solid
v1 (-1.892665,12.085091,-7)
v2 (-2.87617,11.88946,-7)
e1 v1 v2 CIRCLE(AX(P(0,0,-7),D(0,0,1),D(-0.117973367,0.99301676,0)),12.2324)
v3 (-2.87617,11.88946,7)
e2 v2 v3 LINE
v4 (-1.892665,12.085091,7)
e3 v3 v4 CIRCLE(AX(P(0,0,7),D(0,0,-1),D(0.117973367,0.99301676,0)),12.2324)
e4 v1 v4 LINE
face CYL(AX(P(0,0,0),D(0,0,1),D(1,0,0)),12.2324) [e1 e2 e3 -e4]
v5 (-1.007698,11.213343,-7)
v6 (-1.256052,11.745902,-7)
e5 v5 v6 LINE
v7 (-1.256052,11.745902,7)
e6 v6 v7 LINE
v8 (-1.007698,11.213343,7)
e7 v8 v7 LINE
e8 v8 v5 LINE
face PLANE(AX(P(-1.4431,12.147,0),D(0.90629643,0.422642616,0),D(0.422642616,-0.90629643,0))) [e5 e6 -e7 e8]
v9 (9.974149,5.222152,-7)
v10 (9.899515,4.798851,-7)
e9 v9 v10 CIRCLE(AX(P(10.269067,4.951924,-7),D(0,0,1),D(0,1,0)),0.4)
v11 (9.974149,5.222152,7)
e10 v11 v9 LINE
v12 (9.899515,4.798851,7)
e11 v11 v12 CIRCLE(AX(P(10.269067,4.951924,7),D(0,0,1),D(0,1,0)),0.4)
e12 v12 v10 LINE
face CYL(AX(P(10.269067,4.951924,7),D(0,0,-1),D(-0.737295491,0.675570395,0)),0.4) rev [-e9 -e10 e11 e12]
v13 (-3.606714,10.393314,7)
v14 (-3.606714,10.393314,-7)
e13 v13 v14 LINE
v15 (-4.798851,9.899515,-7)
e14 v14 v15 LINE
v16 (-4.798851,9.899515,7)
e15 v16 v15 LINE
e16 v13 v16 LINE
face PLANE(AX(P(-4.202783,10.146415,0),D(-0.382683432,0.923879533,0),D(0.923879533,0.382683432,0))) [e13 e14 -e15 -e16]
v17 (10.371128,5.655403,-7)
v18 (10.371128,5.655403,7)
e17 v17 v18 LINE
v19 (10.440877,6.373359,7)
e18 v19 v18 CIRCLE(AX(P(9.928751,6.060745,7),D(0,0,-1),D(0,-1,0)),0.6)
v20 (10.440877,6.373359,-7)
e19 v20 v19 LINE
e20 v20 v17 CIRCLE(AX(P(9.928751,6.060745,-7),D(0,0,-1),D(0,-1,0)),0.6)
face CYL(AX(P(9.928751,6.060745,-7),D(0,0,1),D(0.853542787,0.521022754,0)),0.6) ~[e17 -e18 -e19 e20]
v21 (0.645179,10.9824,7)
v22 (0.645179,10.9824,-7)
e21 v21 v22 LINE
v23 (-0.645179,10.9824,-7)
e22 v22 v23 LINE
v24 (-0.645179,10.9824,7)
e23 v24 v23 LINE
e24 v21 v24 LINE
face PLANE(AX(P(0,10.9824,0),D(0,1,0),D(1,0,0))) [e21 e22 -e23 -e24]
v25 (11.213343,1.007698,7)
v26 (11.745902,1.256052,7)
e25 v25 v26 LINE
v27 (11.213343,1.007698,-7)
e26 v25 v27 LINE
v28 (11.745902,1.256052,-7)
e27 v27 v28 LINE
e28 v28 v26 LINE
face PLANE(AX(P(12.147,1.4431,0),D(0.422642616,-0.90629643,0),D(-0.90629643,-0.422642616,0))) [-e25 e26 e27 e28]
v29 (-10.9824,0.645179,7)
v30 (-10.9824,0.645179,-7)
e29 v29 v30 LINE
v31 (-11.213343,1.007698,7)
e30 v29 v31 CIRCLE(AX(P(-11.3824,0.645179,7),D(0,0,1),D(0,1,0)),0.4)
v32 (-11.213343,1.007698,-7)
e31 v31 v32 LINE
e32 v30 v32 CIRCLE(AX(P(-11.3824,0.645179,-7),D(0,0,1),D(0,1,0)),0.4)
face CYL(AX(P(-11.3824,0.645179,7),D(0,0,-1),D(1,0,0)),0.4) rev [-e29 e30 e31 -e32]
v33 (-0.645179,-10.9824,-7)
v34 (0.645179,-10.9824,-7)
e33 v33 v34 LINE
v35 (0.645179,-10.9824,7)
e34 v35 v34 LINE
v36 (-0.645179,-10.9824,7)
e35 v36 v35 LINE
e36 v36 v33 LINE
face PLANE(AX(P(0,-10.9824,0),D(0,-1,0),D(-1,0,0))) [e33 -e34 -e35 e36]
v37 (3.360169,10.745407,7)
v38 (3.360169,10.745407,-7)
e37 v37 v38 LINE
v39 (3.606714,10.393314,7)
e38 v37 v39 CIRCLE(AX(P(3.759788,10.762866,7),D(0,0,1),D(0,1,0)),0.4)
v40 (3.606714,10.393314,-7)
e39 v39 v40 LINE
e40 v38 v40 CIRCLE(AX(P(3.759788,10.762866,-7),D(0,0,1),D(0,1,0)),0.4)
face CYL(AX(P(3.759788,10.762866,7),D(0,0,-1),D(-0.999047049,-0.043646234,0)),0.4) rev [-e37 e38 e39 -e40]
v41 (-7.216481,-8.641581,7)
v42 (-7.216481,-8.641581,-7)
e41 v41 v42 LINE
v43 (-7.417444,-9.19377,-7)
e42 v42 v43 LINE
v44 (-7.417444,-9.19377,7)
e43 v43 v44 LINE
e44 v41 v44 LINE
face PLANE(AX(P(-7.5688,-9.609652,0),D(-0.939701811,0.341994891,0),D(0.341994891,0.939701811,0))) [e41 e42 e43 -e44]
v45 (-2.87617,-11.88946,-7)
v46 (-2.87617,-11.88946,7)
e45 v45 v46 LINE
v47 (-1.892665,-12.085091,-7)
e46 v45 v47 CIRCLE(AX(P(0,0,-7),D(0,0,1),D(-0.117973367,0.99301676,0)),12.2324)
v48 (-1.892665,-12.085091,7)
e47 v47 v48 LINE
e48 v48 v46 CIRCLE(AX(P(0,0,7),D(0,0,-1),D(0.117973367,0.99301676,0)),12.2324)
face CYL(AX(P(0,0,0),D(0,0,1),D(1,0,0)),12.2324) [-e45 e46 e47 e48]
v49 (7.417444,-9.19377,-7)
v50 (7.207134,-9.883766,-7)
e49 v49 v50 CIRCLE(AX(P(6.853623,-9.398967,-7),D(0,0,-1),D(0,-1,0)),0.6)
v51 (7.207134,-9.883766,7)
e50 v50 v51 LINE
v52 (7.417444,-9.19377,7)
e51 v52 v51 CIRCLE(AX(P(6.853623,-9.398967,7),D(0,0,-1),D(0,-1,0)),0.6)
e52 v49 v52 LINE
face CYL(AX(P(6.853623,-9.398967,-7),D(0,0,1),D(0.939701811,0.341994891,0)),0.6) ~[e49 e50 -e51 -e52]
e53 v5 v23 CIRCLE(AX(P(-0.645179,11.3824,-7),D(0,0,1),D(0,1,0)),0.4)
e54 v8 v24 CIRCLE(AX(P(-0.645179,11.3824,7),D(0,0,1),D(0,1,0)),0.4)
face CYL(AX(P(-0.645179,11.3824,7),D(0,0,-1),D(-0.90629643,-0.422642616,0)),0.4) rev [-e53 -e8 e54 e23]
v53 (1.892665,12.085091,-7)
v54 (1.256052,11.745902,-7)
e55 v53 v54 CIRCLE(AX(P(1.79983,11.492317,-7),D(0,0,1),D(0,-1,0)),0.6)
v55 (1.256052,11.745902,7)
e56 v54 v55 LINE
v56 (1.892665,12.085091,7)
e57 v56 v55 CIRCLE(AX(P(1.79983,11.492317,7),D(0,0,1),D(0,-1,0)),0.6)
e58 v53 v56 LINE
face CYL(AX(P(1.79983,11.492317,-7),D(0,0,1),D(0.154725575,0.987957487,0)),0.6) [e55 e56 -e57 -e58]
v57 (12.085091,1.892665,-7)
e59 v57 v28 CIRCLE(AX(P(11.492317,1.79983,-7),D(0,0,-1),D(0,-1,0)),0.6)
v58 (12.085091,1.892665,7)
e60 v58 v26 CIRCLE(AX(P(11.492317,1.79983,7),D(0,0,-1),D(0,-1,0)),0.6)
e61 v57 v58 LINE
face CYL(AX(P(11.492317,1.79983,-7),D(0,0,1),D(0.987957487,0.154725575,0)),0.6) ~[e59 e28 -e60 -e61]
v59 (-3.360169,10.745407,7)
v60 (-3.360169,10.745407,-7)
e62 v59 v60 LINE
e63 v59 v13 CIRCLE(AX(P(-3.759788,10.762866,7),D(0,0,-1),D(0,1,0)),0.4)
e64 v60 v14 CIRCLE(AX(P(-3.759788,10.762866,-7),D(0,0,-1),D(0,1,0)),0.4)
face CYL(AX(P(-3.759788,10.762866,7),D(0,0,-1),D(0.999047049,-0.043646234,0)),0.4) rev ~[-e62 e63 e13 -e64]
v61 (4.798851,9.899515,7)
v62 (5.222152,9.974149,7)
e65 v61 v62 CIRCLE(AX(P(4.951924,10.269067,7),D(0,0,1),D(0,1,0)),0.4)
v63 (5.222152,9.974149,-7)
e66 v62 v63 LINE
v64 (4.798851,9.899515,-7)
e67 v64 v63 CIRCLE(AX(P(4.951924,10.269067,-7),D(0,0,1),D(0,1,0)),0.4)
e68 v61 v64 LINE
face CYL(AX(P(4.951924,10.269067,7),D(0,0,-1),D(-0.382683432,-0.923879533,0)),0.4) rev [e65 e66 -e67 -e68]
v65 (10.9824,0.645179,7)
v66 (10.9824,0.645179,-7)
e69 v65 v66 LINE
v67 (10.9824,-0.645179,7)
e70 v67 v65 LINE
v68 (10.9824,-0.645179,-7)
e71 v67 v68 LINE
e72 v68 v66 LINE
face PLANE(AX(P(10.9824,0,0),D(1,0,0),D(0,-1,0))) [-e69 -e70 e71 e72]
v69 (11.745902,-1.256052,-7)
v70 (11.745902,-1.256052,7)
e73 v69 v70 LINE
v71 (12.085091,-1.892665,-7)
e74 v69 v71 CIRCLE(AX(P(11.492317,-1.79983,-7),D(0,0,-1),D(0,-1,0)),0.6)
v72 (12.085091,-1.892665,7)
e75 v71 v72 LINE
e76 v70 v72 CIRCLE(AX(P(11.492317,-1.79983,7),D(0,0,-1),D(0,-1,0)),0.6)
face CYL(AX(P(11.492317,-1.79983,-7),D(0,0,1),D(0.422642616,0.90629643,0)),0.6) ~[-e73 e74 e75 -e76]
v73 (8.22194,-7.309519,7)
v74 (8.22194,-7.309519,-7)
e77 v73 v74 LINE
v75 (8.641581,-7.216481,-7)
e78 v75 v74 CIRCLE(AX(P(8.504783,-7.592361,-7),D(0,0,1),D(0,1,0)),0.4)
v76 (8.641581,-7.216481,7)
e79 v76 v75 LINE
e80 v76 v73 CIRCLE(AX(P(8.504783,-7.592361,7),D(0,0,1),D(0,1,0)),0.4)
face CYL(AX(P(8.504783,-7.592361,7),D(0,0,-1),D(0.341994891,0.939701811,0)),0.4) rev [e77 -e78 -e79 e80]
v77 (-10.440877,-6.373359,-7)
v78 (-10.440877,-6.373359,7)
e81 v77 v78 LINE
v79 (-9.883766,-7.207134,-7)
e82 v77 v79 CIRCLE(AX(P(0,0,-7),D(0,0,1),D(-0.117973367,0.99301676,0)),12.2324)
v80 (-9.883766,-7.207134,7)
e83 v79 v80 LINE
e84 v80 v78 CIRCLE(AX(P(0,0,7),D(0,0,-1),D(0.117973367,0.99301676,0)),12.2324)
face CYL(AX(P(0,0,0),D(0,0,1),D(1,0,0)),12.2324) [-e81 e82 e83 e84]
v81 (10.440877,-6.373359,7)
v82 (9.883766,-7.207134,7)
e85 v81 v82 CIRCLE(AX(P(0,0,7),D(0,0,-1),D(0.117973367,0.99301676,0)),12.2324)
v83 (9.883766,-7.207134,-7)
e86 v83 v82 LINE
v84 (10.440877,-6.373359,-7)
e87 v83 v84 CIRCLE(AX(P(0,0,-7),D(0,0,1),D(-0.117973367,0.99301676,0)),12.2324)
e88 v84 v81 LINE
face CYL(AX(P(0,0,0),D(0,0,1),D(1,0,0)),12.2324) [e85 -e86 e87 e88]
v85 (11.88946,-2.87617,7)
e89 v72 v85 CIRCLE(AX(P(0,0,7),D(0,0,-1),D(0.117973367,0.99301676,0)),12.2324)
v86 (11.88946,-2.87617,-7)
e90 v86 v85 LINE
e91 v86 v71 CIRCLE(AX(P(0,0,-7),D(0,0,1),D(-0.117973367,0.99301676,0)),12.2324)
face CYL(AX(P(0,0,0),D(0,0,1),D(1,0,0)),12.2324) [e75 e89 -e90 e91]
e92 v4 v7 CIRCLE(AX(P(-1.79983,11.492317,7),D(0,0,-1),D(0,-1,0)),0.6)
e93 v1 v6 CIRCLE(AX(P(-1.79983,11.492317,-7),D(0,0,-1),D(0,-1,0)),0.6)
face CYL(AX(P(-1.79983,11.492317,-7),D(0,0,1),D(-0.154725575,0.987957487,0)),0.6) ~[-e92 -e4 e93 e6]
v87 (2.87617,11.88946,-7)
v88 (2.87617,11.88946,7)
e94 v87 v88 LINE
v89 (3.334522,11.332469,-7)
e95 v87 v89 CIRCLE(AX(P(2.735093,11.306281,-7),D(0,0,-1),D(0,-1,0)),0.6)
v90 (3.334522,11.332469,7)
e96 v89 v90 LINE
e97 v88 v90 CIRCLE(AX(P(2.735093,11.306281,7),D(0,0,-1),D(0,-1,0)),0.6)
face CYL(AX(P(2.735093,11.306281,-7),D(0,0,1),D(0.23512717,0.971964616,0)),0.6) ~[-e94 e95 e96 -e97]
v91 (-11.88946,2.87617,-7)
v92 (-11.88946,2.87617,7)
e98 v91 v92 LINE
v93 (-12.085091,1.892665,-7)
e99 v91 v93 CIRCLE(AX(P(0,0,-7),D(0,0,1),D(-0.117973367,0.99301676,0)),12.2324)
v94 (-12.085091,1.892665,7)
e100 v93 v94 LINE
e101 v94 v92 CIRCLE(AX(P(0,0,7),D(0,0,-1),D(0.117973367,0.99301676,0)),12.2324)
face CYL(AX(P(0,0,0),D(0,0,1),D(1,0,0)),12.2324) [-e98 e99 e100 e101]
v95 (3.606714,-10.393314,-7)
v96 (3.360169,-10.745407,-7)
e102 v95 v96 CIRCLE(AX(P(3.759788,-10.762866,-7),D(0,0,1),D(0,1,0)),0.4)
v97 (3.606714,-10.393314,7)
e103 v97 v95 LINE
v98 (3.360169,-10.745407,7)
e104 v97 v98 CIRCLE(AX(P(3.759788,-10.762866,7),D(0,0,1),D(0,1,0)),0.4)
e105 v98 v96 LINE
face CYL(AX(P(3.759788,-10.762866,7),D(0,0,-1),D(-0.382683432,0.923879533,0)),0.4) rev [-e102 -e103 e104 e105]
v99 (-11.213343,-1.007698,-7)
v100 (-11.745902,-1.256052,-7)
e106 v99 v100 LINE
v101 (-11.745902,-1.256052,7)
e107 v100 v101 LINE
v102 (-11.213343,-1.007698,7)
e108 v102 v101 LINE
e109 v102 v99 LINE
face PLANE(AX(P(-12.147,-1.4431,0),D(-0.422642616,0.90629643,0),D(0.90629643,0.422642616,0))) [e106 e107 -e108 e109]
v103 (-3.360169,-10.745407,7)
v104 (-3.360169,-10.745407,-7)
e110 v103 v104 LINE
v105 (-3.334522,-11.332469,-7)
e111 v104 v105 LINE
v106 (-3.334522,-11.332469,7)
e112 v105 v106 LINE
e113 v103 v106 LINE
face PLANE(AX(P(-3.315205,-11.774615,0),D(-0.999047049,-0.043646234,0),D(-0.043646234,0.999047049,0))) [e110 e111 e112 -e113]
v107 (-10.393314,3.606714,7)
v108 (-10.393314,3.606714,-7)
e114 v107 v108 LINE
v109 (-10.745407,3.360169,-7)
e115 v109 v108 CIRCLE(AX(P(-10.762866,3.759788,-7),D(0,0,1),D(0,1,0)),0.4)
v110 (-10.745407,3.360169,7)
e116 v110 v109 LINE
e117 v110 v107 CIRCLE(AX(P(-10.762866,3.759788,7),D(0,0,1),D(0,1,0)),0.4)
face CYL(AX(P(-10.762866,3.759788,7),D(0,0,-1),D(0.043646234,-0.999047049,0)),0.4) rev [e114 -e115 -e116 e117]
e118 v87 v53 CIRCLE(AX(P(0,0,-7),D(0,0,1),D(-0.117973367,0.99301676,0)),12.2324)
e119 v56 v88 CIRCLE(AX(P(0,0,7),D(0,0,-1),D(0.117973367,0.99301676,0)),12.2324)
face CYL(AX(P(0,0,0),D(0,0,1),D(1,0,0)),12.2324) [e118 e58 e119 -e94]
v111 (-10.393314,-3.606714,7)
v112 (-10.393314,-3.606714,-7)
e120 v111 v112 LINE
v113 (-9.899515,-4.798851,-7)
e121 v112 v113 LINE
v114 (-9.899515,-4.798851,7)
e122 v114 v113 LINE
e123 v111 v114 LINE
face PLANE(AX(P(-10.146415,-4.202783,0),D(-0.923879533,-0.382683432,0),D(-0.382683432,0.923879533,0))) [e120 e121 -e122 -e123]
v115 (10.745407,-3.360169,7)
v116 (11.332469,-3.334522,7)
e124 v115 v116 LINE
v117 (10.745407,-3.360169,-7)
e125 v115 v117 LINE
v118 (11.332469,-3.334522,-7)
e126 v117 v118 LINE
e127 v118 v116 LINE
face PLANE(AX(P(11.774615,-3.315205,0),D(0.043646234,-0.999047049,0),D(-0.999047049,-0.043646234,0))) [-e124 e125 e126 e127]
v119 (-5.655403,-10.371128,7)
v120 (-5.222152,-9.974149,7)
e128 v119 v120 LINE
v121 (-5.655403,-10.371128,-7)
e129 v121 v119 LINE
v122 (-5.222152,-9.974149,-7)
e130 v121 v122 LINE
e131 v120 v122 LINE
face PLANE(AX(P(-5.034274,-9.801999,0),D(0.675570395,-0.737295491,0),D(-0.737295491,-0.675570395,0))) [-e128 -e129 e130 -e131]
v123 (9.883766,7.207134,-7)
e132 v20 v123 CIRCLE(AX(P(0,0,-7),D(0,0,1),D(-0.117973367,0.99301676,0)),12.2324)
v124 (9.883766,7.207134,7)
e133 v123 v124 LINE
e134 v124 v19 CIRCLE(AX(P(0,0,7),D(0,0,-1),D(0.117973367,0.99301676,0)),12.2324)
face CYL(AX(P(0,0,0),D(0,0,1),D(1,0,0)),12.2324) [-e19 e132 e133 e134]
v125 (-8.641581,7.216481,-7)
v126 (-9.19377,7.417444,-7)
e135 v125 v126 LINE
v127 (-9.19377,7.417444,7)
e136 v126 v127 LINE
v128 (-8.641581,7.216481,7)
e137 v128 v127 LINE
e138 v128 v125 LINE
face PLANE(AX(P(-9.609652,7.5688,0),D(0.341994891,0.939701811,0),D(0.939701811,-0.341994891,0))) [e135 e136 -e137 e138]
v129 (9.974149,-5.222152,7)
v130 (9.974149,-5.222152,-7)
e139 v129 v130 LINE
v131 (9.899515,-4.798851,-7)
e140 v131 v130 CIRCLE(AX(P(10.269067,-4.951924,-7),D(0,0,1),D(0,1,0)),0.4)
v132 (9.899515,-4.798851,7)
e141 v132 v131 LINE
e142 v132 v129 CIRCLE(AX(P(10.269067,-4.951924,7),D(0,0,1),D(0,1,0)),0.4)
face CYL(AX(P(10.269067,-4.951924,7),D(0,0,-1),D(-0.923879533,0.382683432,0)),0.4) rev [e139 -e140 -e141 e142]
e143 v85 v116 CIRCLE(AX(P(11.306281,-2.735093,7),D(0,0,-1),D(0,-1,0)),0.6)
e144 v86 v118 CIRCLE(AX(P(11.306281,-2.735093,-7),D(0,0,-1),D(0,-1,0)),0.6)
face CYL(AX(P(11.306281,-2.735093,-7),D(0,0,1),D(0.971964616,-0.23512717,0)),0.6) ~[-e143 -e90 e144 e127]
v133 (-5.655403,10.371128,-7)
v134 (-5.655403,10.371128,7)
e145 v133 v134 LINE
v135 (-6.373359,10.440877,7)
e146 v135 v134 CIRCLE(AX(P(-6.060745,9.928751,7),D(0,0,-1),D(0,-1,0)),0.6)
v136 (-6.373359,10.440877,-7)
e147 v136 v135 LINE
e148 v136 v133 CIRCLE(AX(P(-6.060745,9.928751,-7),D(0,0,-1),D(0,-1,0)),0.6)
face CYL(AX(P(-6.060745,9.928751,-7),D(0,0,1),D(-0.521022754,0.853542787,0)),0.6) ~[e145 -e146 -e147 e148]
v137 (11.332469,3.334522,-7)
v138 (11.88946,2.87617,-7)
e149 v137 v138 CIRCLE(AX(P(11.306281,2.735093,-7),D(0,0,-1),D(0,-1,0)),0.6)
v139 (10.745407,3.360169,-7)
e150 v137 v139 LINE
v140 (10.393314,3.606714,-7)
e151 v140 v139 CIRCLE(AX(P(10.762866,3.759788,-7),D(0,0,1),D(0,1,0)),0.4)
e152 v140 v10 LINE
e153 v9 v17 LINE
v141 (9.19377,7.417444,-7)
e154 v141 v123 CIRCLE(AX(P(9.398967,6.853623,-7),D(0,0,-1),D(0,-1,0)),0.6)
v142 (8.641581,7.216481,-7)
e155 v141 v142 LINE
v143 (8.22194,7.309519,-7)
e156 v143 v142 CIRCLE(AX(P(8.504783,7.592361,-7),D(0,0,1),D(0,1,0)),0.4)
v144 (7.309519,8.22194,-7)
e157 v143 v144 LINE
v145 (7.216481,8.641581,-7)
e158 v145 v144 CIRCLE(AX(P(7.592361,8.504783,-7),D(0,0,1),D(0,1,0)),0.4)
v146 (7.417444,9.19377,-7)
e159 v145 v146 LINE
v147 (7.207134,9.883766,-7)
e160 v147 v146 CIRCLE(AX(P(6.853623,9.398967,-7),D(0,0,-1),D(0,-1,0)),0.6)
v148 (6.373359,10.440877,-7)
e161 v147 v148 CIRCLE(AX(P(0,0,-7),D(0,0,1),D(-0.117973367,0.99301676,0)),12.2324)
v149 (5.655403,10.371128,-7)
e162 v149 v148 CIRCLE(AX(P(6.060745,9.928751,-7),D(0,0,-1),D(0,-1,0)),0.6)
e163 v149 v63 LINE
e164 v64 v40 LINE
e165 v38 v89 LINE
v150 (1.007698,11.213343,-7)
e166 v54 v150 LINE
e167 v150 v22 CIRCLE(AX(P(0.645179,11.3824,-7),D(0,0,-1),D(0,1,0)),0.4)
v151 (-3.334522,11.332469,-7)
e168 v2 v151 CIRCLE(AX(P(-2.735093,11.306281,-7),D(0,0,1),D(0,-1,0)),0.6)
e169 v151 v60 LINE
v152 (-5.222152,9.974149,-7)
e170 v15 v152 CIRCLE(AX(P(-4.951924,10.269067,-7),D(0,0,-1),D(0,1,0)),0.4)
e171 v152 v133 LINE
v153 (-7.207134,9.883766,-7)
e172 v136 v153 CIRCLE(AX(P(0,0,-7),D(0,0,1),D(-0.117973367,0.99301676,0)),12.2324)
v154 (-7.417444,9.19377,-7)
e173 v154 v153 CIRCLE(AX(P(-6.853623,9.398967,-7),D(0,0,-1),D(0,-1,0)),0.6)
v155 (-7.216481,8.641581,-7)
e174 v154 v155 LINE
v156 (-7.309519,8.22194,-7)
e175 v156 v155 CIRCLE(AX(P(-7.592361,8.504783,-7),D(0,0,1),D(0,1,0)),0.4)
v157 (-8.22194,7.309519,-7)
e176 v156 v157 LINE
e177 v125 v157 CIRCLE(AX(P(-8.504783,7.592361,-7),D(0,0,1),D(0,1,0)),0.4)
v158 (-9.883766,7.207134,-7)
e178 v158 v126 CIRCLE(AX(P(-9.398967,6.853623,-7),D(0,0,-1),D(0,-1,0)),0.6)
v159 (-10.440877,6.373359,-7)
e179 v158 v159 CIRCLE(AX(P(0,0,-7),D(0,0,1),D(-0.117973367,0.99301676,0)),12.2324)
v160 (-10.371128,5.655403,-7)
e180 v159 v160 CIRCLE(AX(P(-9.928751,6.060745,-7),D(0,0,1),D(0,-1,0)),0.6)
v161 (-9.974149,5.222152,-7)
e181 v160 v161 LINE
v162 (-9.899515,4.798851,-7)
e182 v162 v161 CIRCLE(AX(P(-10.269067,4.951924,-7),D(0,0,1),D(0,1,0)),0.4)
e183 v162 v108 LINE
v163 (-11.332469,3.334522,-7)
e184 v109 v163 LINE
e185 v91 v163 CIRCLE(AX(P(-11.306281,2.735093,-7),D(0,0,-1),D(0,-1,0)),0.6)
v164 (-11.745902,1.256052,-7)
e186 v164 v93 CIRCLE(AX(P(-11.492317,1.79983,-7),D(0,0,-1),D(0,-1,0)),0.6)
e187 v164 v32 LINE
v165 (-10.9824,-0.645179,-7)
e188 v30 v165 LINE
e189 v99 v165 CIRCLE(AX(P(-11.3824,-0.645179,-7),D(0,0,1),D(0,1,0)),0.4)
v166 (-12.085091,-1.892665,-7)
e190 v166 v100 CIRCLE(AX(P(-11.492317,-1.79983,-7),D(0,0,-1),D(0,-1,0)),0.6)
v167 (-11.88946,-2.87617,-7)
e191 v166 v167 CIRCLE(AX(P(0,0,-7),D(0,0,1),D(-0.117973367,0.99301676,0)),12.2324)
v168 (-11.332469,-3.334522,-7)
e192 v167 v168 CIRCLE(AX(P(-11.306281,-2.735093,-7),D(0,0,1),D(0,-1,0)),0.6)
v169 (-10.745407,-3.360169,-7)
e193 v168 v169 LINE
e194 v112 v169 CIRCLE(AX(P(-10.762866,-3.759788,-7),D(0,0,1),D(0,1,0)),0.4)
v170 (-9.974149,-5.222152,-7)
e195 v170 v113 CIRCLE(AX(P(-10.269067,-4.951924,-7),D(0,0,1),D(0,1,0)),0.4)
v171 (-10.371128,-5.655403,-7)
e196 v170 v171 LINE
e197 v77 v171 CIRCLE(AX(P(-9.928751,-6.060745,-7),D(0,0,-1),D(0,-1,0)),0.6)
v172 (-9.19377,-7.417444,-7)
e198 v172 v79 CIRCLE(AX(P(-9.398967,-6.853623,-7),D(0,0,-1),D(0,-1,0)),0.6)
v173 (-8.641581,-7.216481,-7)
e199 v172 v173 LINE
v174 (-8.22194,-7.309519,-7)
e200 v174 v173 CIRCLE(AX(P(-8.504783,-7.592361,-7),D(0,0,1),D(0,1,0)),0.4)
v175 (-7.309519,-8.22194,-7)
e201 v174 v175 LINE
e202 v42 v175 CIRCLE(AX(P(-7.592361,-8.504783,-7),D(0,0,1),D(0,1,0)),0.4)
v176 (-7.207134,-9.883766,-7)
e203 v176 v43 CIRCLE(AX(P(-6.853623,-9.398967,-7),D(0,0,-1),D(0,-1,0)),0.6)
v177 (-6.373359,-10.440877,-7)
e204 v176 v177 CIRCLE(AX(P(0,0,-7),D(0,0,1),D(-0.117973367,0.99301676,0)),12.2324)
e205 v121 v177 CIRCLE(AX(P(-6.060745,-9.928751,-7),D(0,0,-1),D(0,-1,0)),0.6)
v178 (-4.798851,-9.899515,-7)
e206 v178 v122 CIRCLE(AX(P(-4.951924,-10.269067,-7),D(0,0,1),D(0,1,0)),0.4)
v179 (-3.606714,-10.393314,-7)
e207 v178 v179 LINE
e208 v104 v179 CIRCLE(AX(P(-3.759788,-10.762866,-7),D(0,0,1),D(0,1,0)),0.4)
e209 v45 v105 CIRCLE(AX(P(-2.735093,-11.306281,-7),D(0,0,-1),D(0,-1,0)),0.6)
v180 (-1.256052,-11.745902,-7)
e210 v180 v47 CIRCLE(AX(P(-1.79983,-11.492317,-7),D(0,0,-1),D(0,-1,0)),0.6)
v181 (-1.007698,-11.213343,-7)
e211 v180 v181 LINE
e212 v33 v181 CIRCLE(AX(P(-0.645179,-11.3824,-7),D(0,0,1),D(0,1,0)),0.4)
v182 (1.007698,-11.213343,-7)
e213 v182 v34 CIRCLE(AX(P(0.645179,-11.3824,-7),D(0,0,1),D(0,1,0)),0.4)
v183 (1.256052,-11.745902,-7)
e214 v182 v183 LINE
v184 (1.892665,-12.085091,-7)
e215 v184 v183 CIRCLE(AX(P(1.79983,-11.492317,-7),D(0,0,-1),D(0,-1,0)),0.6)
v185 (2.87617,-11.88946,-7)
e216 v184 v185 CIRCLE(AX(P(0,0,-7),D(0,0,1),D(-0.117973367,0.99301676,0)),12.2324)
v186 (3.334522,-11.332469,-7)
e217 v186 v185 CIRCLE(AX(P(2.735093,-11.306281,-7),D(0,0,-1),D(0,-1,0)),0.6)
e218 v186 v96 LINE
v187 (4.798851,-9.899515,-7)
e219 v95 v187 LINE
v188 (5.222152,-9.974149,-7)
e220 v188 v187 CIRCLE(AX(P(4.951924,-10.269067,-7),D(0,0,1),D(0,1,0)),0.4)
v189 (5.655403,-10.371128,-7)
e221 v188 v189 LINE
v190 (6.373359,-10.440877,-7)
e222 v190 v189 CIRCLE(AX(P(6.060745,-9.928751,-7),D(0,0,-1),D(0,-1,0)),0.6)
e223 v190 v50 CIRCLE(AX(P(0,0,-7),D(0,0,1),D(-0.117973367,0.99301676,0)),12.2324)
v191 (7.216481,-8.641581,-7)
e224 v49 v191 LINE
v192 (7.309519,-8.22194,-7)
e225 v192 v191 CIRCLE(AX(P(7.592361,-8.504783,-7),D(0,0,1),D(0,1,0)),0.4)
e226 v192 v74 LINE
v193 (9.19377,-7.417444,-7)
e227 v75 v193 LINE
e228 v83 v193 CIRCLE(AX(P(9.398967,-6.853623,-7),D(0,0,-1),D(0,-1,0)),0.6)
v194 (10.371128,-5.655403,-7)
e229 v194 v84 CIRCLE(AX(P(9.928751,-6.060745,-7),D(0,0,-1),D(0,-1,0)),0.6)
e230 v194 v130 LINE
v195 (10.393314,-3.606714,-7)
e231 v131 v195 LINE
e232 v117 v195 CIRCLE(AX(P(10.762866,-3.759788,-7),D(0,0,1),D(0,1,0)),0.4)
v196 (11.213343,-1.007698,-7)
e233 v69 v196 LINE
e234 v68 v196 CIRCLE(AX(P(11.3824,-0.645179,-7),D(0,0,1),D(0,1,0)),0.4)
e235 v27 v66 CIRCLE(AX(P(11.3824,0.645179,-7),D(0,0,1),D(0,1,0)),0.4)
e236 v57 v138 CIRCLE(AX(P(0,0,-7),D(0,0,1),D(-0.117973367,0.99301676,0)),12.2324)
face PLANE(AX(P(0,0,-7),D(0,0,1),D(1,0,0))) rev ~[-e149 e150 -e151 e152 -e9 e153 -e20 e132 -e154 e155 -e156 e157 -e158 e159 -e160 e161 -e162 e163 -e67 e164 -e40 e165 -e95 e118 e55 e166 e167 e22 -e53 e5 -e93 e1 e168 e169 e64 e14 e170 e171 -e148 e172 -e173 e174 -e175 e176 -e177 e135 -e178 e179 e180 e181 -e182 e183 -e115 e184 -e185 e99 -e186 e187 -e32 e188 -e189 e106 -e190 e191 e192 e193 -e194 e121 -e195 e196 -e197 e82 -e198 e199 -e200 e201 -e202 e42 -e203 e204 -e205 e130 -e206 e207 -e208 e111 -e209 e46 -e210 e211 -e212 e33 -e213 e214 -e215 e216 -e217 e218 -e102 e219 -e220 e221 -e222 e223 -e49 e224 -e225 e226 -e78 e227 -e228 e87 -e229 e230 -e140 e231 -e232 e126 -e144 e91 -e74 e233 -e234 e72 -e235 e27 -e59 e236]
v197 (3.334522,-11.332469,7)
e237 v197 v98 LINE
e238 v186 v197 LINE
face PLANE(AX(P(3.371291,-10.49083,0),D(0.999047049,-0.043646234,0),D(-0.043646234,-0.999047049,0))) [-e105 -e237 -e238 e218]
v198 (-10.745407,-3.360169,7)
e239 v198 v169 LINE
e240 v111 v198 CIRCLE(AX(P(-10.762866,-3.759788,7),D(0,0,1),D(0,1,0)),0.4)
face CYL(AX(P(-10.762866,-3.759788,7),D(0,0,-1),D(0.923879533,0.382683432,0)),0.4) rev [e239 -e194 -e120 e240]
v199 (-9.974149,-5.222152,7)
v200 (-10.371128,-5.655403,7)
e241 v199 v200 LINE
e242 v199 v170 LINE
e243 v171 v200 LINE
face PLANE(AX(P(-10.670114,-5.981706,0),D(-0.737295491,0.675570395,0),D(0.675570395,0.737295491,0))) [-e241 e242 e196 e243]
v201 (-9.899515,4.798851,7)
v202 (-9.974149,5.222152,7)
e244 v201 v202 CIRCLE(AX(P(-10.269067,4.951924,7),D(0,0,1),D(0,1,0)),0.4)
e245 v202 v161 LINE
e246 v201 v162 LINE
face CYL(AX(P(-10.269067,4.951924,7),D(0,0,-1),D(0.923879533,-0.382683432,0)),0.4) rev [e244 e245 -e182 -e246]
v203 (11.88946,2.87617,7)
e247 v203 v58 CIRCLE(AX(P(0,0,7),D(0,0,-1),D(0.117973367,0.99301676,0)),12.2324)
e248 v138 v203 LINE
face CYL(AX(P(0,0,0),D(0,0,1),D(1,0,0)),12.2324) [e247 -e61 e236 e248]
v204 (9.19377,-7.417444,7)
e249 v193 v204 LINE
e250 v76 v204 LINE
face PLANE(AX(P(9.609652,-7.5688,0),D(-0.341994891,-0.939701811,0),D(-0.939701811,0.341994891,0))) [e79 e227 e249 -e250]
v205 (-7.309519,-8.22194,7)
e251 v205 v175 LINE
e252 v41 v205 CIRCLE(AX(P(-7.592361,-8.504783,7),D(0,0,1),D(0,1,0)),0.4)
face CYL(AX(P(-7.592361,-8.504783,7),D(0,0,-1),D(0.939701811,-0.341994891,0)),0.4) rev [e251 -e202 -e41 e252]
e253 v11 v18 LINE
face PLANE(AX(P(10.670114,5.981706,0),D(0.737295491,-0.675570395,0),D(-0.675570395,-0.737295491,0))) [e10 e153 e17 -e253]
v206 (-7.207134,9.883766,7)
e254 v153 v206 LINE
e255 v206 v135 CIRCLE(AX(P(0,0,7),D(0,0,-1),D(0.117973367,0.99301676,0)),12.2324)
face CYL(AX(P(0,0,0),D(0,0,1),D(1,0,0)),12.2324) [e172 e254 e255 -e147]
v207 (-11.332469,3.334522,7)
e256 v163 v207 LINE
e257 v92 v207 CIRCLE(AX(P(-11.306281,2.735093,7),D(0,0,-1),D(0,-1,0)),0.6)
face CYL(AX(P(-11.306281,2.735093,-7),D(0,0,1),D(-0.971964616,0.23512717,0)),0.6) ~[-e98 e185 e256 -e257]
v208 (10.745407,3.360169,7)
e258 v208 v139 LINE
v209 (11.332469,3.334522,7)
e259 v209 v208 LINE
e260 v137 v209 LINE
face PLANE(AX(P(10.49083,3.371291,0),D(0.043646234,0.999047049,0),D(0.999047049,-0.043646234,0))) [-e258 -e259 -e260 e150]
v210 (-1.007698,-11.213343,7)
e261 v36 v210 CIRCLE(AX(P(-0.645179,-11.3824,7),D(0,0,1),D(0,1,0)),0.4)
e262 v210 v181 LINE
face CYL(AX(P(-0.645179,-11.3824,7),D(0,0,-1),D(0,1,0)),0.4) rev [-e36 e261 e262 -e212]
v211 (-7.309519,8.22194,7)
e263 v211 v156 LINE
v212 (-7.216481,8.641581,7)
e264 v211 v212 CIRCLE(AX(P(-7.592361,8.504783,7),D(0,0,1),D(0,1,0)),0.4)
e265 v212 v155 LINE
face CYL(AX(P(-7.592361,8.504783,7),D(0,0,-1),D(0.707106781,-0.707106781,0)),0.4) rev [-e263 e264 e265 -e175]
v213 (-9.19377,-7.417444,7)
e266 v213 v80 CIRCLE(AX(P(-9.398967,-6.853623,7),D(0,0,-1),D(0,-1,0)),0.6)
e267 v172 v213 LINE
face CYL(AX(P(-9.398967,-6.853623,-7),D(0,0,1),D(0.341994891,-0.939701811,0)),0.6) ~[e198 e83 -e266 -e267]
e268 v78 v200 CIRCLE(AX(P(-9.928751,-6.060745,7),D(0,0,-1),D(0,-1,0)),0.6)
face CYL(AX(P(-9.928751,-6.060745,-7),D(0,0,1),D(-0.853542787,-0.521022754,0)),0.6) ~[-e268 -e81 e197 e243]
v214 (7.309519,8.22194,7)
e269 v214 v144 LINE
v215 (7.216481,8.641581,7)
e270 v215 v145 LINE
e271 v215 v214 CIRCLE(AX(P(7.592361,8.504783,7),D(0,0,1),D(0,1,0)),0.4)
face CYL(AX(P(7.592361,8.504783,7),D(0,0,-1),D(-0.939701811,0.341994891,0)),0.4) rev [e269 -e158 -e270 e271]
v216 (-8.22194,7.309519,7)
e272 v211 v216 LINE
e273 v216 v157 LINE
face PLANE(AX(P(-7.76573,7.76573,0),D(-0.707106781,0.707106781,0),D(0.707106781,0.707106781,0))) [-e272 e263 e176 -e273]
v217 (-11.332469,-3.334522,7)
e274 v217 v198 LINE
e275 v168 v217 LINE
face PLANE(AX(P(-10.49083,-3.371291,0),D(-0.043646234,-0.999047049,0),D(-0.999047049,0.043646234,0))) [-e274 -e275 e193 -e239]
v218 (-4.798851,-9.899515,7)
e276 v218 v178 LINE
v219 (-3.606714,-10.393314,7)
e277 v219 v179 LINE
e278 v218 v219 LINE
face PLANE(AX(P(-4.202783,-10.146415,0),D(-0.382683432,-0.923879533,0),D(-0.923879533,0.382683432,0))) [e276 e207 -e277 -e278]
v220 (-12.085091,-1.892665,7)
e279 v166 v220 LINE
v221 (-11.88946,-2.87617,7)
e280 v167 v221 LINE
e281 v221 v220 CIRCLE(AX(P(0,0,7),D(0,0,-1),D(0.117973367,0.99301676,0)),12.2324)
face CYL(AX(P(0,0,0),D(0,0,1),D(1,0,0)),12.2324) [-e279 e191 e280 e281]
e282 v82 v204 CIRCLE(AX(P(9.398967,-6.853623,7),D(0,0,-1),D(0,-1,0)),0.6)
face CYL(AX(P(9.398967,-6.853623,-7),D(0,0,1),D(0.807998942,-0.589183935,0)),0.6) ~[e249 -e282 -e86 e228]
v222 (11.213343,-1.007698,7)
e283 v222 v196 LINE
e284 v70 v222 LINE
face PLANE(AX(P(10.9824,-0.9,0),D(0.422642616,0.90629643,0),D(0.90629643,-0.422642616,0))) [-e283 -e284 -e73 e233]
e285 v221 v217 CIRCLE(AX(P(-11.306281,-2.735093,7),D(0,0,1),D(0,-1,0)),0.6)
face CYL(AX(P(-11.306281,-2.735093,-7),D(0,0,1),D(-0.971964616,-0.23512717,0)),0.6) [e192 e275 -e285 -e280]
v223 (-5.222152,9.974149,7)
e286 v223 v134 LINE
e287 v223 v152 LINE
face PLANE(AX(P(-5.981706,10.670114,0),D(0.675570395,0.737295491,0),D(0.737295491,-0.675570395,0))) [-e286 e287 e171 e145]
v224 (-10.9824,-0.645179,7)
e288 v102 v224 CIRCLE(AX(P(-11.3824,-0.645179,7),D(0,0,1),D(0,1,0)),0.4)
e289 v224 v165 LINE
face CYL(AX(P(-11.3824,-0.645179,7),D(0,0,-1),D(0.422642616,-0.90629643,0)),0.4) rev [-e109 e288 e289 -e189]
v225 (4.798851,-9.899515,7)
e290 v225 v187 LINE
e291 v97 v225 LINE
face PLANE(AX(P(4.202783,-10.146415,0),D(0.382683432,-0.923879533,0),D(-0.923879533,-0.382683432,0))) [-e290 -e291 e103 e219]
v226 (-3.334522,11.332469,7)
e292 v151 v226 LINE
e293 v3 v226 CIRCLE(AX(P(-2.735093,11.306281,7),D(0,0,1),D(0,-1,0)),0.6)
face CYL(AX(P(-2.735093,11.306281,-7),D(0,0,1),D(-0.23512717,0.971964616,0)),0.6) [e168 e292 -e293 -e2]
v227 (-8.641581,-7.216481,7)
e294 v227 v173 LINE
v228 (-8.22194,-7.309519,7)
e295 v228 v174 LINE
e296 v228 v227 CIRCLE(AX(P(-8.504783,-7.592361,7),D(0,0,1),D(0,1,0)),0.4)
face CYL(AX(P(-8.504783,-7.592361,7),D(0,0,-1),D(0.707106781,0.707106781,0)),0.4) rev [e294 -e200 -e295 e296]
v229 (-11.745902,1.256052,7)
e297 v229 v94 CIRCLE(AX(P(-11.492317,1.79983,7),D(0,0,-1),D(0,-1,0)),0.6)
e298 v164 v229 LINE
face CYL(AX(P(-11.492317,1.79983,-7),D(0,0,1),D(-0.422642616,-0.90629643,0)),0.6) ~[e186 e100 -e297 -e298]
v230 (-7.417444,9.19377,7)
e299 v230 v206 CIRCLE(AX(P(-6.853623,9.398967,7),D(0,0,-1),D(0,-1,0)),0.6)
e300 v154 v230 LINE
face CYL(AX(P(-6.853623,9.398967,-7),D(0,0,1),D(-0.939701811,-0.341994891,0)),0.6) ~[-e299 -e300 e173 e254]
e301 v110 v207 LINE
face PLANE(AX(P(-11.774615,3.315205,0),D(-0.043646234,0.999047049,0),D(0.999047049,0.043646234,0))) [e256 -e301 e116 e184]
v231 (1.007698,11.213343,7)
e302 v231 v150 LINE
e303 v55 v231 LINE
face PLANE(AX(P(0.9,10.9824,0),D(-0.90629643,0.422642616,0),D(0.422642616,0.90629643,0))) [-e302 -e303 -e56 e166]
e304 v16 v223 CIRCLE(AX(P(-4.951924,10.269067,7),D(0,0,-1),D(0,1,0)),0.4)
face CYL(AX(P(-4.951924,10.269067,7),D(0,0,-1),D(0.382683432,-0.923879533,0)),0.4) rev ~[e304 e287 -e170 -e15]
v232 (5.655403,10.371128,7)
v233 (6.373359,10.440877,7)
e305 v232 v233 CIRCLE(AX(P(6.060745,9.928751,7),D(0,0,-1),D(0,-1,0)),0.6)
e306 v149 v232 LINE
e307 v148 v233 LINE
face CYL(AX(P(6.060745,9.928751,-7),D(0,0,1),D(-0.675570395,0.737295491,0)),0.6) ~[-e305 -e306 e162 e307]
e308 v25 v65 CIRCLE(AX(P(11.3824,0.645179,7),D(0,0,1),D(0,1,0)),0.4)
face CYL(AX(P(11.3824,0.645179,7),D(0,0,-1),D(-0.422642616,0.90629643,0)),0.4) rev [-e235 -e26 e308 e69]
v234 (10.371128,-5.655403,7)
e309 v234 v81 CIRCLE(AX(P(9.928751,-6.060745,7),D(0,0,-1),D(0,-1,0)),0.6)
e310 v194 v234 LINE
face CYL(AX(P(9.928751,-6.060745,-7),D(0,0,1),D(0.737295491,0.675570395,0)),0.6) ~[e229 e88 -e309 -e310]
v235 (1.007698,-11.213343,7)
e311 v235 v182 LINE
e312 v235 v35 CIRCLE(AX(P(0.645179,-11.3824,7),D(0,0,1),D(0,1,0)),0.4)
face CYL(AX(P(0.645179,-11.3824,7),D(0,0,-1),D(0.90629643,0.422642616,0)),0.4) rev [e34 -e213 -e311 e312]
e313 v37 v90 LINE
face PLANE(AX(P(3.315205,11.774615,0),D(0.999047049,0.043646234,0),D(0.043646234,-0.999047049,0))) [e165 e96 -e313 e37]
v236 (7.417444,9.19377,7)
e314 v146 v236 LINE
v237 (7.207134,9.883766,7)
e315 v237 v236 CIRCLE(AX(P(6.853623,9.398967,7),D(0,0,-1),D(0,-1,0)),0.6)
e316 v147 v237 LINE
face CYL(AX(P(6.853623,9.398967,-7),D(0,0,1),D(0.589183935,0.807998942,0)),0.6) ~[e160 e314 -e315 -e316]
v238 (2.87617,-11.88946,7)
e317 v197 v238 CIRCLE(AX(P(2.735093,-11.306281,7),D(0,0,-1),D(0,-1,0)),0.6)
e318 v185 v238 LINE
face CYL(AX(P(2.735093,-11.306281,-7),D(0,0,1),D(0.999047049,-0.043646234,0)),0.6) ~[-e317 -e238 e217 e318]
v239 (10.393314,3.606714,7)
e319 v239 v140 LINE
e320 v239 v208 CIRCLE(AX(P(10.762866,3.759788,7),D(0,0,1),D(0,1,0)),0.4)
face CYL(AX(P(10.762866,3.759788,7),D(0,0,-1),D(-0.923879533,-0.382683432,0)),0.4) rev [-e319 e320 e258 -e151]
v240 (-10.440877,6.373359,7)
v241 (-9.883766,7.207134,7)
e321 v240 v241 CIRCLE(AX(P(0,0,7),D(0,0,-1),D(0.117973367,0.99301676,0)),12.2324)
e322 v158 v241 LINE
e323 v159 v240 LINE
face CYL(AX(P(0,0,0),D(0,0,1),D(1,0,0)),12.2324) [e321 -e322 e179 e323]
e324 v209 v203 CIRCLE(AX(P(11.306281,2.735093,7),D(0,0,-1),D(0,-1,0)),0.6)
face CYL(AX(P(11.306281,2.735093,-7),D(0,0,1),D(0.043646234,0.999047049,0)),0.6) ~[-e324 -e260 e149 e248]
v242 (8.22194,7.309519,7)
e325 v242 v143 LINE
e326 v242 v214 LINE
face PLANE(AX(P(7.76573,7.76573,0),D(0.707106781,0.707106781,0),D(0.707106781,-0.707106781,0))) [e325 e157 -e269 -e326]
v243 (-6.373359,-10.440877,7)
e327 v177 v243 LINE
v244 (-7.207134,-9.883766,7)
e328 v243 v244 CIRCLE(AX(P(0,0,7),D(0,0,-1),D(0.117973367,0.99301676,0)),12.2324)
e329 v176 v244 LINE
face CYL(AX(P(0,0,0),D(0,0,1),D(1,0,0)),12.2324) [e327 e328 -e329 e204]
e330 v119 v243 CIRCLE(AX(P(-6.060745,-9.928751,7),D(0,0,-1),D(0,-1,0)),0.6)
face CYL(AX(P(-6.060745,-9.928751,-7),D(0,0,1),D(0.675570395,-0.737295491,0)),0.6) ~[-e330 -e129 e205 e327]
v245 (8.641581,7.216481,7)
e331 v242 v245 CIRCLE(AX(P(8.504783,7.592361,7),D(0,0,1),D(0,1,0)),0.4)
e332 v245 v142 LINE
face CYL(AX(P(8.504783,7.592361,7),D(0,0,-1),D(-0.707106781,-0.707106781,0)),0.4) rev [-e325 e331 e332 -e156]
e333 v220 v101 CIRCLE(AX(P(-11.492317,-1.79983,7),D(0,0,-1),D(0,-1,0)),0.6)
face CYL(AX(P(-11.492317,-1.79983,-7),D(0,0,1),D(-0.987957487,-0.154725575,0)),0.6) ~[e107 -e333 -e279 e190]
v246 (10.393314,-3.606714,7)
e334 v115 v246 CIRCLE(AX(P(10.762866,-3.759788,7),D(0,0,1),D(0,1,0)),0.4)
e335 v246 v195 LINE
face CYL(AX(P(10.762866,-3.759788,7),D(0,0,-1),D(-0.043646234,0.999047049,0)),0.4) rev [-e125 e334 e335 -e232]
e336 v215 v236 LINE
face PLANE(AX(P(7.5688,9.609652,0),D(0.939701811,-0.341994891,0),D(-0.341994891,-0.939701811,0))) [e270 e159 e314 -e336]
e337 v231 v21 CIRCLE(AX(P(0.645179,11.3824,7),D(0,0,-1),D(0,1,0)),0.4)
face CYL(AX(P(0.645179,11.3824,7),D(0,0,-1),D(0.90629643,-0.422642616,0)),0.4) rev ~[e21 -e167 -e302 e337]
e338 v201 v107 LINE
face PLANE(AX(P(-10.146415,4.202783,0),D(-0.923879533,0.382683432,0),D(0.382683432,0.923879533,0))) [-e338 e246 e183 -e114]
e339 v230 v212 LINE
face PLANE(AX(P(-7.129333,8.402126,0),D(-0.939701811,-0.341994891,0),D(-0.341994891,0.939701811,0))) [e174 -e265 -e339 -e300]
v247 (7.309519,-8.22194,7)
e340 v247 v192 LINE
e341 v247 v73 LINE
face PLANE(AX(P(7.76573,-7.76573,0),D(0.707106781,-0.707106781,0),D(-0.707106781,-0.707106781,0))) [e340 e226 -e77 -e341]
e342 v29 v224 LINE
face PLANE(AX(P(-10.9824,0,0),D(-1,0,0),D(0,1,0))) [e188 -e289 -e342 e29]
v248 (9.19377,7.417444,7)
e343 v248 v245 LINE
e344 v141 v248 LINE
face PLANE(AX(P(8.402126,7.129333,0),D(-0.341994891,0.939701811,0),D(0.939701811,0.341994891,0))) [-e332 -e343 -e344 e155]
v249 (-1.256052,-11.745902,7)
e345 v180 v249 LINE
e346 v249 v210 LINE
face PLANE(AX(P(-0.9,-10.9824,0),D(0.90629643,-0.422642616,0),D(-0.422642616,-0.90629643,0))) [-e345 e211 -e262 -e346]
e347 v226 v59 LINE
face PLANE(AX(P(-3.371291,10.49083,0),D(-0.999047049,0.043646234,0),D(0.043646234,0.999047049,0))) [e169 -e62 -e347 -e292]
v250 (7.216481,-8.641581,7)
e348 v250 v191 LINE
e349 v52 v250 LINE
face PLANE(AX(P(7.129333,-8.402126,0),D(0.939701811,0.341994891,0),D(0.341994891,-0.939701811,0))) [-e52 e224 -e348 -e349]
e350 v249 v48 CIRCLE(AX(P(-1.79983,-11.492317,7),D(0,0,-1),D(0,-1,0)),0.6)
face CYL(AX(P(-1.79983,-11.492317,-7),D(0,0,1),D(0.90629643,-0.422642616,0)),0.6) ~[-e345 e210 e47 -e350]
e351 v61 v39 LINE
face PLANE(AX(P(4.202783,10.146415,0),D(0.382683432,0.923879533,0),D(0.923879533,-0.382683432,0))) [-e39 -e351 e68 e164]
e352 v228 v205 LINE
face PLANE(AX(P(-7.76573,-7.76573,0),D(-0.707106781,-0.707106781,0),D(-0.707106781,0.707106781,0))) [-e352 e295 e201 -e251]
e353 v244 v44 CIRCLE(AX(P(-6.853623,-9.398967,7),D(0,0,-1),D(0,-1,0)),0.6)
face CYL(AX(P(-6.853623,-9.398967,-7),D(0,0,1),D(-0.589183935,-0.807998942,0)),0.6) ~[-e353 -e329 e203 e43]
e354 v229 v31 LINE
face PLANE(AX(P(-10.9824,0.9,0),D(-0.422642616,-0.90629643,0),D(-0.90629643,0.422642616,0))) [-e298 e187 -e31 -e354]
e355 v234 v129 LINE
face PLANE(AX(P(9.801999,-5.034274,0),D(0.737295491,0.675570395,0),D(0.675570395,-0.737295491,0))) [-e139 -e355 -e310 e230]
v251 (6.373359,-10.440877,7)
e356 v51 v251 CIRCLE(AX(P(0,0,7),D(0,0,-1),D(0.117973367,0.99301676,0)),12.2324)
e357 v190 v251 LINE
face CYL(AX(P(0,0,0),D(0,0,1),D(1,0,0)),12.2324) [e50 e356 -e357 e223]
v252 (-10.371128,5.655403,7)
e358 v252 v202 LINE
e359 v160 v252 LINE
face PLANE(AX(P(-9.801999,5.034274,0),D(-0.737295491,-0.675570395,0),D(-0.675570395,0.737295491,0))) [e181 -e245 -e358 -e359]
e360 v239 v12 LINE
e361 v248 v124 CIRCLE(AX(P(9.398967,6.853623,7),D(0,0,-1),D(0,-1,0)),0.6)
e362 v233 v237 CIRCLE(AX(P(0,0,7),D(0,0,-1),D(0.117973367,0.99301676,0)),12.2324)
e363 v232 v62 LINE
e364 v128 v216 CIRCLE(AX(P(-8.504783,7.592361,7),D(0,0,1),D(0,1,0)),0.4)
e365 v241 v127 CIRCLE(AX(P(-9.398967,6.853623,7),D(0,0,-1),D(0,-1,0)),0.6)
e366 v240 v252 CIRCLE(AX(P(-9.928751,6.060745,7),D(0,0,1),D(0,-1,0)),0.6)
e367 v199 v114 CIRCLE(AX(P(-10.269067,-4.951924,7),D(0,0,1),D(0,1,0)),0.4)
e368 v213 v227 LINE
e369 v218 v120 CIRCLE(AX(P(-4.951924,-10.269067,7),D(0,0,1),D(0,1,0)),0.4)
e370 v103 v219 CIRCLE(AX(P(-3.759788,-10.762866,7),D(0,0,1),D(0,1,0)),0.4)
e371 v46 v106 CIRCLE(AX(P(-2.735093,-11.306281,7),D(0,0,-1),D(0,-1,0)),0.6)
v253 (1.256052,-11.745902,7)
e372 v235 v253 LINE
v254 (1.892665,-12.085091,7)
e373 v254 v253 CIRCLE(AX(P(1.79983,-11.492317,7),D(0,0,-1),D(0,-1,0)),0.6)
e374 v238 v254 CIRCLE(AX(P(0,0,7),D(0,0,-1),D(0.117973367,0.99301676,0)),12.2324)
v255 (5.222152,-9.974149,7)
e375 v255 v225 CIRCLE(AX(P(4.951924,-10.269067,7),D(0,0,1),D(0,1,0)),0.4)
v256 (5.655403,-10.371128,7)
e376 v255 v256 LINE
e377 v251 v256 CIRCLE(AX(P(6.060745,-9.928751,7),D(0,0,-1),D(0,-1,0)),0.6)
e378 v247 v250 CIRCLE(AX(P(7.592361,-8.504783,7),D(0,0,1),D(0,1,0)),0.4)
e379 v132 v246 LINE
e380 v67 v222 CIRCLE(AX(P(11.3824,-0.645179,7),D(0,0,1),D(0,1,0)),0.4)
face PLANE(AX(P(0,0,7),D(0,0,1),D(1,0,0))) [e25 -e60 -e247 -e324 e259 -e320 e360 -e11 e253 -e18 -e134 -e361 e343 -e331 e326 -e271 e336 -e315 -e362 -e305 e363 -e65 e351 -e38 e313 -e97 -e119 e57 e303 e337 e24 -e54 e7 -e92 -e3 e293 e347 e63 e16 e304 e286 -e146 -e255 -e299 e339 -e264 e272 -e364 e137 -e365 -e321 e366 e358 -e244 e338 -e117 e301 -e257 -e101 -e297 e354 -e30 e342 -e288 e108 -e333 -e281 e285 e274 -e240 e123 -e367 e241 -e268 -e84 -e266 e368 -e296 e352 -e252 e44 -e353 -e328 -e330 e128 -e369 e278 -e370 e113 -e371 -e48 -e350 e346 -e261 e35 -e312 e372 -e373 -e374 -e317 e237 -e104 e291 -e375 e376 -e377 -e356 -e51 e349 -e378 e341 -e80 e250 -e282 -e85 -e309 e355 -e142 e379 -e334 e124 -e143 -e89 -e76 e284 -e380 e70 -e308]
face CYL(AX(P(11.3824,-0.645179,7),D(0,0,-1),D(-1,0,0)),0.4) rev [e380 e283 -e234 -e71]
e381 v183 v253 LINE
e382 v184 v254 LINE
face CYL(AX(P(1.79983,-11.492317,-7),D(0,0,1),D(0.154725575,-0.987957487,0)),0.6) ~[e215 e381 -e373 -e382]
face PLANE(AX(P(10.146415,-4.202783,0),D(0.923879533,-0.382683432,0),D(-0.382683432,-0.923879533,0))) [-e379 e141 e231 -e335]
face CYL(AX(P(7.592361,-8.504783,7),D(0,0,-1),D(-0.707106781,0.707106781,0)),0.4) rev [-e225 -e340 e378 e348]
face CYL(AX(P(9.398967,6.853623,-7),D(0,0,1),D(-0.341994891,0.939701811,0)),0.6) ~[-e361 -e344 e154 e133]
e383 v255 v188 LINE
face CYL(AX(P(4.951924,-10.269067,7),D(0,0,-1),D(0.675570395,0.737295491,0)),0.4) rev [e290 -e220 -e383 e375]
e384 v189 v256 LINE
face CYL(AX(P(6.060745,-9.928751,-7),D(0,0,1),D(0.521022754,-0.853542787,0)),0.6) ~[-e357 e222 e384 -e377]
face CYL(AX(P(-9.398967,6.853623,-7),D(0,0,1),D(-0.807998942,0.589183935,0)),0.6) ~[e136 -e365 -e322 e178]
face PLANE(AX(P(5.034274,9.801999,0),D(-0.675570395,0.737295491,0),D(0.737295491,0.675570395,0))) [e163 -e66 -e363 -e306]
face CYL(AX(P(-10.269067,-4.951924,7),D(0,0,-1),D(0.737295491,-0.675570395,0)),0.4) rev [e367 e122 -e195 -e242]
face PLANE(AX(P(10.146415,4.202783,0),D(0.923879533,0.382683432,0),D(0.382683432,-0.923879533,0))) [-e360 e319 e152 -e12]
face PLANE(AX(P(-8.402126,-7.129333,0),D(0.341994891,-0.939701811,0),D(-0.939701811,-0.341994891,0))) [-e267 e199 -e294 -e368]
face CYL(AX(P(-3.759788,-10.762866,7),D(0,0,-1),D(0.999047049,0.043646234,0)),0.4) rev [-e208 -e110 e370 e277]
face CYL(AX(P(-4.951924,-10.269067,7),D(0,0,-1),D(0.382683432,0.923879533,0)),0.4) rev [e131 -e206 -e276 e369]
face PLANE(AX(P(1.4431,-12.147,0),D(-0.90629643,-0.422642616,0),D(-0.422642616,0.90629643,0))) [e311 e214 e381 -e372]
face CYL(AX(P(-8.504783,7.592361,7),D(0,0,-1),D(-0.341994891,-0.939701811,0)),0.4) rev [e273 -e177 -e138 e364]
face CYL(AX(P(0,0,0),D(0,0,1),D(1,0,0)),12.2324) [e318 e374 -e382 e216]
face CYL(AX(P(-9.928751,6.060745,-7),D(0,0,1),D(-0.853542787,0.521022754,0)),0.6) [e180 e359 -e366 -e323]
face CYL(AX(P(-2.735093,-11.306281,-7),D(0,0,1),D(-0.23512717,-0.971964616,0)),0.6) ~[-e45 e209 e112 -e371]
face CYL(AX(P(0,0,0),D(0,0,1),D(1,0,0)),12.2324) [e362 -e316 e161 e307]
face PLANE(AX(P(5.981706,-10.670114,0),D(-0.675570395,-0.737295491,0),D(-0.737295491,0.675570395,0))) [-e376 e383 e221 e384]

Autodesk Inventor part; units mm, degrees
ref_plane "YZ Plane" through (0, 0, 0) normal (1, 0, 0) x (0, 1, 0)
ref_plane "XZ Plane" through (0, 0, 0) normal (0, 1, 0) x (-1, 0, 0)
ref_plane "XY Plane" through (0, 0, 0) normal (0, 0, 1) x (1, 0, 0)
sketch "Riemenscheibenskizze" plane through (0, 0, 0) normal (0, 0, 1) x (1, 0, 0)
  circle A0 centre (0, 0) radius 12.7324 construction
  circle A1 centre (0, 0) radius 12.2324
  circle A2 centre (0, 0) radius 10.9824
  line L0 (-1.4431, 12.147) -> (-0.9, 10.9824)
  line L1 (-0.9, 10.9824) -> (0.9, 10.9824)
  line L2 (0.9, 10.9824) -> (1.4431, 12.147)
  line L3 (0, 0) -> (0, 12.2324) construction
  point P0 (0, 10.9824)
  dimension "d0" = 25.4648
  dimension "d1" = 0.5
  dimension "d2" = 1.25
  dimension "d3" = 50
  dimension "d4" = 1.8
extrude "Grundkörper" add sketch "Riemenscheibenskizze" along normal mid plane 14 contours A2 | A1 L0 L1 L2 | L2 L1 L0 A1
extrude "Zahn" cut sketch "Riemenscheibenskizze" along normal through all both and the other way through all contours L2 L1 L0 A1 picked at (0, 11.8094)
fillet "Fillet" radius 0.4 2 edges at (0.9, 10.9824, 0) (-0.9, 10.9824, 0)
fillet "Fillet" radius 0.6 4 edges at (-1.4431, 12.147, 3.5) (-1.4431, 12.147, -3.5) (1.4431, 12.147, 3.5) (1.4431, 12.147, -3.5)
pattern_circular "Zähne" count 16 over 360 about axis through (0, 0, -10) along (0, 0, 1) of "Zahn", "Fillet"
feature "Flansch links" [suppressed]
feature "Flansch rechts" [suppressed]
equation "\"d1\" = da_a"
equation "\"d2\" = da_hg"
equation "\"d3\" = 2 * da_fi"
equation "\"d4\" = da_bw"
equation "\"d5\" = da_bf"
equation "\"d7\" = da_bf"
equation "\"d9\" = da_rb"
equation "\"d10\" = da_rt"
equation "\"da_pb\" = 5"
equation "\"da_fi\" = 25deg"
equation "\"da_hg\" = 1.25"
equation "\"da_bw\" = 1.8"
equation "\"da_rb\" = 0.4"
equation "\"da_rt\" = 0.6"
equation "\"da_a\" = 0.5"
equation "\"da_bf\" = 14"
equation "\"da_wf\" = 0.8"
equation "\"da_hf\" = 0.8"
properties part number "Synchrone Riemenscheibe1" material "Steel"
